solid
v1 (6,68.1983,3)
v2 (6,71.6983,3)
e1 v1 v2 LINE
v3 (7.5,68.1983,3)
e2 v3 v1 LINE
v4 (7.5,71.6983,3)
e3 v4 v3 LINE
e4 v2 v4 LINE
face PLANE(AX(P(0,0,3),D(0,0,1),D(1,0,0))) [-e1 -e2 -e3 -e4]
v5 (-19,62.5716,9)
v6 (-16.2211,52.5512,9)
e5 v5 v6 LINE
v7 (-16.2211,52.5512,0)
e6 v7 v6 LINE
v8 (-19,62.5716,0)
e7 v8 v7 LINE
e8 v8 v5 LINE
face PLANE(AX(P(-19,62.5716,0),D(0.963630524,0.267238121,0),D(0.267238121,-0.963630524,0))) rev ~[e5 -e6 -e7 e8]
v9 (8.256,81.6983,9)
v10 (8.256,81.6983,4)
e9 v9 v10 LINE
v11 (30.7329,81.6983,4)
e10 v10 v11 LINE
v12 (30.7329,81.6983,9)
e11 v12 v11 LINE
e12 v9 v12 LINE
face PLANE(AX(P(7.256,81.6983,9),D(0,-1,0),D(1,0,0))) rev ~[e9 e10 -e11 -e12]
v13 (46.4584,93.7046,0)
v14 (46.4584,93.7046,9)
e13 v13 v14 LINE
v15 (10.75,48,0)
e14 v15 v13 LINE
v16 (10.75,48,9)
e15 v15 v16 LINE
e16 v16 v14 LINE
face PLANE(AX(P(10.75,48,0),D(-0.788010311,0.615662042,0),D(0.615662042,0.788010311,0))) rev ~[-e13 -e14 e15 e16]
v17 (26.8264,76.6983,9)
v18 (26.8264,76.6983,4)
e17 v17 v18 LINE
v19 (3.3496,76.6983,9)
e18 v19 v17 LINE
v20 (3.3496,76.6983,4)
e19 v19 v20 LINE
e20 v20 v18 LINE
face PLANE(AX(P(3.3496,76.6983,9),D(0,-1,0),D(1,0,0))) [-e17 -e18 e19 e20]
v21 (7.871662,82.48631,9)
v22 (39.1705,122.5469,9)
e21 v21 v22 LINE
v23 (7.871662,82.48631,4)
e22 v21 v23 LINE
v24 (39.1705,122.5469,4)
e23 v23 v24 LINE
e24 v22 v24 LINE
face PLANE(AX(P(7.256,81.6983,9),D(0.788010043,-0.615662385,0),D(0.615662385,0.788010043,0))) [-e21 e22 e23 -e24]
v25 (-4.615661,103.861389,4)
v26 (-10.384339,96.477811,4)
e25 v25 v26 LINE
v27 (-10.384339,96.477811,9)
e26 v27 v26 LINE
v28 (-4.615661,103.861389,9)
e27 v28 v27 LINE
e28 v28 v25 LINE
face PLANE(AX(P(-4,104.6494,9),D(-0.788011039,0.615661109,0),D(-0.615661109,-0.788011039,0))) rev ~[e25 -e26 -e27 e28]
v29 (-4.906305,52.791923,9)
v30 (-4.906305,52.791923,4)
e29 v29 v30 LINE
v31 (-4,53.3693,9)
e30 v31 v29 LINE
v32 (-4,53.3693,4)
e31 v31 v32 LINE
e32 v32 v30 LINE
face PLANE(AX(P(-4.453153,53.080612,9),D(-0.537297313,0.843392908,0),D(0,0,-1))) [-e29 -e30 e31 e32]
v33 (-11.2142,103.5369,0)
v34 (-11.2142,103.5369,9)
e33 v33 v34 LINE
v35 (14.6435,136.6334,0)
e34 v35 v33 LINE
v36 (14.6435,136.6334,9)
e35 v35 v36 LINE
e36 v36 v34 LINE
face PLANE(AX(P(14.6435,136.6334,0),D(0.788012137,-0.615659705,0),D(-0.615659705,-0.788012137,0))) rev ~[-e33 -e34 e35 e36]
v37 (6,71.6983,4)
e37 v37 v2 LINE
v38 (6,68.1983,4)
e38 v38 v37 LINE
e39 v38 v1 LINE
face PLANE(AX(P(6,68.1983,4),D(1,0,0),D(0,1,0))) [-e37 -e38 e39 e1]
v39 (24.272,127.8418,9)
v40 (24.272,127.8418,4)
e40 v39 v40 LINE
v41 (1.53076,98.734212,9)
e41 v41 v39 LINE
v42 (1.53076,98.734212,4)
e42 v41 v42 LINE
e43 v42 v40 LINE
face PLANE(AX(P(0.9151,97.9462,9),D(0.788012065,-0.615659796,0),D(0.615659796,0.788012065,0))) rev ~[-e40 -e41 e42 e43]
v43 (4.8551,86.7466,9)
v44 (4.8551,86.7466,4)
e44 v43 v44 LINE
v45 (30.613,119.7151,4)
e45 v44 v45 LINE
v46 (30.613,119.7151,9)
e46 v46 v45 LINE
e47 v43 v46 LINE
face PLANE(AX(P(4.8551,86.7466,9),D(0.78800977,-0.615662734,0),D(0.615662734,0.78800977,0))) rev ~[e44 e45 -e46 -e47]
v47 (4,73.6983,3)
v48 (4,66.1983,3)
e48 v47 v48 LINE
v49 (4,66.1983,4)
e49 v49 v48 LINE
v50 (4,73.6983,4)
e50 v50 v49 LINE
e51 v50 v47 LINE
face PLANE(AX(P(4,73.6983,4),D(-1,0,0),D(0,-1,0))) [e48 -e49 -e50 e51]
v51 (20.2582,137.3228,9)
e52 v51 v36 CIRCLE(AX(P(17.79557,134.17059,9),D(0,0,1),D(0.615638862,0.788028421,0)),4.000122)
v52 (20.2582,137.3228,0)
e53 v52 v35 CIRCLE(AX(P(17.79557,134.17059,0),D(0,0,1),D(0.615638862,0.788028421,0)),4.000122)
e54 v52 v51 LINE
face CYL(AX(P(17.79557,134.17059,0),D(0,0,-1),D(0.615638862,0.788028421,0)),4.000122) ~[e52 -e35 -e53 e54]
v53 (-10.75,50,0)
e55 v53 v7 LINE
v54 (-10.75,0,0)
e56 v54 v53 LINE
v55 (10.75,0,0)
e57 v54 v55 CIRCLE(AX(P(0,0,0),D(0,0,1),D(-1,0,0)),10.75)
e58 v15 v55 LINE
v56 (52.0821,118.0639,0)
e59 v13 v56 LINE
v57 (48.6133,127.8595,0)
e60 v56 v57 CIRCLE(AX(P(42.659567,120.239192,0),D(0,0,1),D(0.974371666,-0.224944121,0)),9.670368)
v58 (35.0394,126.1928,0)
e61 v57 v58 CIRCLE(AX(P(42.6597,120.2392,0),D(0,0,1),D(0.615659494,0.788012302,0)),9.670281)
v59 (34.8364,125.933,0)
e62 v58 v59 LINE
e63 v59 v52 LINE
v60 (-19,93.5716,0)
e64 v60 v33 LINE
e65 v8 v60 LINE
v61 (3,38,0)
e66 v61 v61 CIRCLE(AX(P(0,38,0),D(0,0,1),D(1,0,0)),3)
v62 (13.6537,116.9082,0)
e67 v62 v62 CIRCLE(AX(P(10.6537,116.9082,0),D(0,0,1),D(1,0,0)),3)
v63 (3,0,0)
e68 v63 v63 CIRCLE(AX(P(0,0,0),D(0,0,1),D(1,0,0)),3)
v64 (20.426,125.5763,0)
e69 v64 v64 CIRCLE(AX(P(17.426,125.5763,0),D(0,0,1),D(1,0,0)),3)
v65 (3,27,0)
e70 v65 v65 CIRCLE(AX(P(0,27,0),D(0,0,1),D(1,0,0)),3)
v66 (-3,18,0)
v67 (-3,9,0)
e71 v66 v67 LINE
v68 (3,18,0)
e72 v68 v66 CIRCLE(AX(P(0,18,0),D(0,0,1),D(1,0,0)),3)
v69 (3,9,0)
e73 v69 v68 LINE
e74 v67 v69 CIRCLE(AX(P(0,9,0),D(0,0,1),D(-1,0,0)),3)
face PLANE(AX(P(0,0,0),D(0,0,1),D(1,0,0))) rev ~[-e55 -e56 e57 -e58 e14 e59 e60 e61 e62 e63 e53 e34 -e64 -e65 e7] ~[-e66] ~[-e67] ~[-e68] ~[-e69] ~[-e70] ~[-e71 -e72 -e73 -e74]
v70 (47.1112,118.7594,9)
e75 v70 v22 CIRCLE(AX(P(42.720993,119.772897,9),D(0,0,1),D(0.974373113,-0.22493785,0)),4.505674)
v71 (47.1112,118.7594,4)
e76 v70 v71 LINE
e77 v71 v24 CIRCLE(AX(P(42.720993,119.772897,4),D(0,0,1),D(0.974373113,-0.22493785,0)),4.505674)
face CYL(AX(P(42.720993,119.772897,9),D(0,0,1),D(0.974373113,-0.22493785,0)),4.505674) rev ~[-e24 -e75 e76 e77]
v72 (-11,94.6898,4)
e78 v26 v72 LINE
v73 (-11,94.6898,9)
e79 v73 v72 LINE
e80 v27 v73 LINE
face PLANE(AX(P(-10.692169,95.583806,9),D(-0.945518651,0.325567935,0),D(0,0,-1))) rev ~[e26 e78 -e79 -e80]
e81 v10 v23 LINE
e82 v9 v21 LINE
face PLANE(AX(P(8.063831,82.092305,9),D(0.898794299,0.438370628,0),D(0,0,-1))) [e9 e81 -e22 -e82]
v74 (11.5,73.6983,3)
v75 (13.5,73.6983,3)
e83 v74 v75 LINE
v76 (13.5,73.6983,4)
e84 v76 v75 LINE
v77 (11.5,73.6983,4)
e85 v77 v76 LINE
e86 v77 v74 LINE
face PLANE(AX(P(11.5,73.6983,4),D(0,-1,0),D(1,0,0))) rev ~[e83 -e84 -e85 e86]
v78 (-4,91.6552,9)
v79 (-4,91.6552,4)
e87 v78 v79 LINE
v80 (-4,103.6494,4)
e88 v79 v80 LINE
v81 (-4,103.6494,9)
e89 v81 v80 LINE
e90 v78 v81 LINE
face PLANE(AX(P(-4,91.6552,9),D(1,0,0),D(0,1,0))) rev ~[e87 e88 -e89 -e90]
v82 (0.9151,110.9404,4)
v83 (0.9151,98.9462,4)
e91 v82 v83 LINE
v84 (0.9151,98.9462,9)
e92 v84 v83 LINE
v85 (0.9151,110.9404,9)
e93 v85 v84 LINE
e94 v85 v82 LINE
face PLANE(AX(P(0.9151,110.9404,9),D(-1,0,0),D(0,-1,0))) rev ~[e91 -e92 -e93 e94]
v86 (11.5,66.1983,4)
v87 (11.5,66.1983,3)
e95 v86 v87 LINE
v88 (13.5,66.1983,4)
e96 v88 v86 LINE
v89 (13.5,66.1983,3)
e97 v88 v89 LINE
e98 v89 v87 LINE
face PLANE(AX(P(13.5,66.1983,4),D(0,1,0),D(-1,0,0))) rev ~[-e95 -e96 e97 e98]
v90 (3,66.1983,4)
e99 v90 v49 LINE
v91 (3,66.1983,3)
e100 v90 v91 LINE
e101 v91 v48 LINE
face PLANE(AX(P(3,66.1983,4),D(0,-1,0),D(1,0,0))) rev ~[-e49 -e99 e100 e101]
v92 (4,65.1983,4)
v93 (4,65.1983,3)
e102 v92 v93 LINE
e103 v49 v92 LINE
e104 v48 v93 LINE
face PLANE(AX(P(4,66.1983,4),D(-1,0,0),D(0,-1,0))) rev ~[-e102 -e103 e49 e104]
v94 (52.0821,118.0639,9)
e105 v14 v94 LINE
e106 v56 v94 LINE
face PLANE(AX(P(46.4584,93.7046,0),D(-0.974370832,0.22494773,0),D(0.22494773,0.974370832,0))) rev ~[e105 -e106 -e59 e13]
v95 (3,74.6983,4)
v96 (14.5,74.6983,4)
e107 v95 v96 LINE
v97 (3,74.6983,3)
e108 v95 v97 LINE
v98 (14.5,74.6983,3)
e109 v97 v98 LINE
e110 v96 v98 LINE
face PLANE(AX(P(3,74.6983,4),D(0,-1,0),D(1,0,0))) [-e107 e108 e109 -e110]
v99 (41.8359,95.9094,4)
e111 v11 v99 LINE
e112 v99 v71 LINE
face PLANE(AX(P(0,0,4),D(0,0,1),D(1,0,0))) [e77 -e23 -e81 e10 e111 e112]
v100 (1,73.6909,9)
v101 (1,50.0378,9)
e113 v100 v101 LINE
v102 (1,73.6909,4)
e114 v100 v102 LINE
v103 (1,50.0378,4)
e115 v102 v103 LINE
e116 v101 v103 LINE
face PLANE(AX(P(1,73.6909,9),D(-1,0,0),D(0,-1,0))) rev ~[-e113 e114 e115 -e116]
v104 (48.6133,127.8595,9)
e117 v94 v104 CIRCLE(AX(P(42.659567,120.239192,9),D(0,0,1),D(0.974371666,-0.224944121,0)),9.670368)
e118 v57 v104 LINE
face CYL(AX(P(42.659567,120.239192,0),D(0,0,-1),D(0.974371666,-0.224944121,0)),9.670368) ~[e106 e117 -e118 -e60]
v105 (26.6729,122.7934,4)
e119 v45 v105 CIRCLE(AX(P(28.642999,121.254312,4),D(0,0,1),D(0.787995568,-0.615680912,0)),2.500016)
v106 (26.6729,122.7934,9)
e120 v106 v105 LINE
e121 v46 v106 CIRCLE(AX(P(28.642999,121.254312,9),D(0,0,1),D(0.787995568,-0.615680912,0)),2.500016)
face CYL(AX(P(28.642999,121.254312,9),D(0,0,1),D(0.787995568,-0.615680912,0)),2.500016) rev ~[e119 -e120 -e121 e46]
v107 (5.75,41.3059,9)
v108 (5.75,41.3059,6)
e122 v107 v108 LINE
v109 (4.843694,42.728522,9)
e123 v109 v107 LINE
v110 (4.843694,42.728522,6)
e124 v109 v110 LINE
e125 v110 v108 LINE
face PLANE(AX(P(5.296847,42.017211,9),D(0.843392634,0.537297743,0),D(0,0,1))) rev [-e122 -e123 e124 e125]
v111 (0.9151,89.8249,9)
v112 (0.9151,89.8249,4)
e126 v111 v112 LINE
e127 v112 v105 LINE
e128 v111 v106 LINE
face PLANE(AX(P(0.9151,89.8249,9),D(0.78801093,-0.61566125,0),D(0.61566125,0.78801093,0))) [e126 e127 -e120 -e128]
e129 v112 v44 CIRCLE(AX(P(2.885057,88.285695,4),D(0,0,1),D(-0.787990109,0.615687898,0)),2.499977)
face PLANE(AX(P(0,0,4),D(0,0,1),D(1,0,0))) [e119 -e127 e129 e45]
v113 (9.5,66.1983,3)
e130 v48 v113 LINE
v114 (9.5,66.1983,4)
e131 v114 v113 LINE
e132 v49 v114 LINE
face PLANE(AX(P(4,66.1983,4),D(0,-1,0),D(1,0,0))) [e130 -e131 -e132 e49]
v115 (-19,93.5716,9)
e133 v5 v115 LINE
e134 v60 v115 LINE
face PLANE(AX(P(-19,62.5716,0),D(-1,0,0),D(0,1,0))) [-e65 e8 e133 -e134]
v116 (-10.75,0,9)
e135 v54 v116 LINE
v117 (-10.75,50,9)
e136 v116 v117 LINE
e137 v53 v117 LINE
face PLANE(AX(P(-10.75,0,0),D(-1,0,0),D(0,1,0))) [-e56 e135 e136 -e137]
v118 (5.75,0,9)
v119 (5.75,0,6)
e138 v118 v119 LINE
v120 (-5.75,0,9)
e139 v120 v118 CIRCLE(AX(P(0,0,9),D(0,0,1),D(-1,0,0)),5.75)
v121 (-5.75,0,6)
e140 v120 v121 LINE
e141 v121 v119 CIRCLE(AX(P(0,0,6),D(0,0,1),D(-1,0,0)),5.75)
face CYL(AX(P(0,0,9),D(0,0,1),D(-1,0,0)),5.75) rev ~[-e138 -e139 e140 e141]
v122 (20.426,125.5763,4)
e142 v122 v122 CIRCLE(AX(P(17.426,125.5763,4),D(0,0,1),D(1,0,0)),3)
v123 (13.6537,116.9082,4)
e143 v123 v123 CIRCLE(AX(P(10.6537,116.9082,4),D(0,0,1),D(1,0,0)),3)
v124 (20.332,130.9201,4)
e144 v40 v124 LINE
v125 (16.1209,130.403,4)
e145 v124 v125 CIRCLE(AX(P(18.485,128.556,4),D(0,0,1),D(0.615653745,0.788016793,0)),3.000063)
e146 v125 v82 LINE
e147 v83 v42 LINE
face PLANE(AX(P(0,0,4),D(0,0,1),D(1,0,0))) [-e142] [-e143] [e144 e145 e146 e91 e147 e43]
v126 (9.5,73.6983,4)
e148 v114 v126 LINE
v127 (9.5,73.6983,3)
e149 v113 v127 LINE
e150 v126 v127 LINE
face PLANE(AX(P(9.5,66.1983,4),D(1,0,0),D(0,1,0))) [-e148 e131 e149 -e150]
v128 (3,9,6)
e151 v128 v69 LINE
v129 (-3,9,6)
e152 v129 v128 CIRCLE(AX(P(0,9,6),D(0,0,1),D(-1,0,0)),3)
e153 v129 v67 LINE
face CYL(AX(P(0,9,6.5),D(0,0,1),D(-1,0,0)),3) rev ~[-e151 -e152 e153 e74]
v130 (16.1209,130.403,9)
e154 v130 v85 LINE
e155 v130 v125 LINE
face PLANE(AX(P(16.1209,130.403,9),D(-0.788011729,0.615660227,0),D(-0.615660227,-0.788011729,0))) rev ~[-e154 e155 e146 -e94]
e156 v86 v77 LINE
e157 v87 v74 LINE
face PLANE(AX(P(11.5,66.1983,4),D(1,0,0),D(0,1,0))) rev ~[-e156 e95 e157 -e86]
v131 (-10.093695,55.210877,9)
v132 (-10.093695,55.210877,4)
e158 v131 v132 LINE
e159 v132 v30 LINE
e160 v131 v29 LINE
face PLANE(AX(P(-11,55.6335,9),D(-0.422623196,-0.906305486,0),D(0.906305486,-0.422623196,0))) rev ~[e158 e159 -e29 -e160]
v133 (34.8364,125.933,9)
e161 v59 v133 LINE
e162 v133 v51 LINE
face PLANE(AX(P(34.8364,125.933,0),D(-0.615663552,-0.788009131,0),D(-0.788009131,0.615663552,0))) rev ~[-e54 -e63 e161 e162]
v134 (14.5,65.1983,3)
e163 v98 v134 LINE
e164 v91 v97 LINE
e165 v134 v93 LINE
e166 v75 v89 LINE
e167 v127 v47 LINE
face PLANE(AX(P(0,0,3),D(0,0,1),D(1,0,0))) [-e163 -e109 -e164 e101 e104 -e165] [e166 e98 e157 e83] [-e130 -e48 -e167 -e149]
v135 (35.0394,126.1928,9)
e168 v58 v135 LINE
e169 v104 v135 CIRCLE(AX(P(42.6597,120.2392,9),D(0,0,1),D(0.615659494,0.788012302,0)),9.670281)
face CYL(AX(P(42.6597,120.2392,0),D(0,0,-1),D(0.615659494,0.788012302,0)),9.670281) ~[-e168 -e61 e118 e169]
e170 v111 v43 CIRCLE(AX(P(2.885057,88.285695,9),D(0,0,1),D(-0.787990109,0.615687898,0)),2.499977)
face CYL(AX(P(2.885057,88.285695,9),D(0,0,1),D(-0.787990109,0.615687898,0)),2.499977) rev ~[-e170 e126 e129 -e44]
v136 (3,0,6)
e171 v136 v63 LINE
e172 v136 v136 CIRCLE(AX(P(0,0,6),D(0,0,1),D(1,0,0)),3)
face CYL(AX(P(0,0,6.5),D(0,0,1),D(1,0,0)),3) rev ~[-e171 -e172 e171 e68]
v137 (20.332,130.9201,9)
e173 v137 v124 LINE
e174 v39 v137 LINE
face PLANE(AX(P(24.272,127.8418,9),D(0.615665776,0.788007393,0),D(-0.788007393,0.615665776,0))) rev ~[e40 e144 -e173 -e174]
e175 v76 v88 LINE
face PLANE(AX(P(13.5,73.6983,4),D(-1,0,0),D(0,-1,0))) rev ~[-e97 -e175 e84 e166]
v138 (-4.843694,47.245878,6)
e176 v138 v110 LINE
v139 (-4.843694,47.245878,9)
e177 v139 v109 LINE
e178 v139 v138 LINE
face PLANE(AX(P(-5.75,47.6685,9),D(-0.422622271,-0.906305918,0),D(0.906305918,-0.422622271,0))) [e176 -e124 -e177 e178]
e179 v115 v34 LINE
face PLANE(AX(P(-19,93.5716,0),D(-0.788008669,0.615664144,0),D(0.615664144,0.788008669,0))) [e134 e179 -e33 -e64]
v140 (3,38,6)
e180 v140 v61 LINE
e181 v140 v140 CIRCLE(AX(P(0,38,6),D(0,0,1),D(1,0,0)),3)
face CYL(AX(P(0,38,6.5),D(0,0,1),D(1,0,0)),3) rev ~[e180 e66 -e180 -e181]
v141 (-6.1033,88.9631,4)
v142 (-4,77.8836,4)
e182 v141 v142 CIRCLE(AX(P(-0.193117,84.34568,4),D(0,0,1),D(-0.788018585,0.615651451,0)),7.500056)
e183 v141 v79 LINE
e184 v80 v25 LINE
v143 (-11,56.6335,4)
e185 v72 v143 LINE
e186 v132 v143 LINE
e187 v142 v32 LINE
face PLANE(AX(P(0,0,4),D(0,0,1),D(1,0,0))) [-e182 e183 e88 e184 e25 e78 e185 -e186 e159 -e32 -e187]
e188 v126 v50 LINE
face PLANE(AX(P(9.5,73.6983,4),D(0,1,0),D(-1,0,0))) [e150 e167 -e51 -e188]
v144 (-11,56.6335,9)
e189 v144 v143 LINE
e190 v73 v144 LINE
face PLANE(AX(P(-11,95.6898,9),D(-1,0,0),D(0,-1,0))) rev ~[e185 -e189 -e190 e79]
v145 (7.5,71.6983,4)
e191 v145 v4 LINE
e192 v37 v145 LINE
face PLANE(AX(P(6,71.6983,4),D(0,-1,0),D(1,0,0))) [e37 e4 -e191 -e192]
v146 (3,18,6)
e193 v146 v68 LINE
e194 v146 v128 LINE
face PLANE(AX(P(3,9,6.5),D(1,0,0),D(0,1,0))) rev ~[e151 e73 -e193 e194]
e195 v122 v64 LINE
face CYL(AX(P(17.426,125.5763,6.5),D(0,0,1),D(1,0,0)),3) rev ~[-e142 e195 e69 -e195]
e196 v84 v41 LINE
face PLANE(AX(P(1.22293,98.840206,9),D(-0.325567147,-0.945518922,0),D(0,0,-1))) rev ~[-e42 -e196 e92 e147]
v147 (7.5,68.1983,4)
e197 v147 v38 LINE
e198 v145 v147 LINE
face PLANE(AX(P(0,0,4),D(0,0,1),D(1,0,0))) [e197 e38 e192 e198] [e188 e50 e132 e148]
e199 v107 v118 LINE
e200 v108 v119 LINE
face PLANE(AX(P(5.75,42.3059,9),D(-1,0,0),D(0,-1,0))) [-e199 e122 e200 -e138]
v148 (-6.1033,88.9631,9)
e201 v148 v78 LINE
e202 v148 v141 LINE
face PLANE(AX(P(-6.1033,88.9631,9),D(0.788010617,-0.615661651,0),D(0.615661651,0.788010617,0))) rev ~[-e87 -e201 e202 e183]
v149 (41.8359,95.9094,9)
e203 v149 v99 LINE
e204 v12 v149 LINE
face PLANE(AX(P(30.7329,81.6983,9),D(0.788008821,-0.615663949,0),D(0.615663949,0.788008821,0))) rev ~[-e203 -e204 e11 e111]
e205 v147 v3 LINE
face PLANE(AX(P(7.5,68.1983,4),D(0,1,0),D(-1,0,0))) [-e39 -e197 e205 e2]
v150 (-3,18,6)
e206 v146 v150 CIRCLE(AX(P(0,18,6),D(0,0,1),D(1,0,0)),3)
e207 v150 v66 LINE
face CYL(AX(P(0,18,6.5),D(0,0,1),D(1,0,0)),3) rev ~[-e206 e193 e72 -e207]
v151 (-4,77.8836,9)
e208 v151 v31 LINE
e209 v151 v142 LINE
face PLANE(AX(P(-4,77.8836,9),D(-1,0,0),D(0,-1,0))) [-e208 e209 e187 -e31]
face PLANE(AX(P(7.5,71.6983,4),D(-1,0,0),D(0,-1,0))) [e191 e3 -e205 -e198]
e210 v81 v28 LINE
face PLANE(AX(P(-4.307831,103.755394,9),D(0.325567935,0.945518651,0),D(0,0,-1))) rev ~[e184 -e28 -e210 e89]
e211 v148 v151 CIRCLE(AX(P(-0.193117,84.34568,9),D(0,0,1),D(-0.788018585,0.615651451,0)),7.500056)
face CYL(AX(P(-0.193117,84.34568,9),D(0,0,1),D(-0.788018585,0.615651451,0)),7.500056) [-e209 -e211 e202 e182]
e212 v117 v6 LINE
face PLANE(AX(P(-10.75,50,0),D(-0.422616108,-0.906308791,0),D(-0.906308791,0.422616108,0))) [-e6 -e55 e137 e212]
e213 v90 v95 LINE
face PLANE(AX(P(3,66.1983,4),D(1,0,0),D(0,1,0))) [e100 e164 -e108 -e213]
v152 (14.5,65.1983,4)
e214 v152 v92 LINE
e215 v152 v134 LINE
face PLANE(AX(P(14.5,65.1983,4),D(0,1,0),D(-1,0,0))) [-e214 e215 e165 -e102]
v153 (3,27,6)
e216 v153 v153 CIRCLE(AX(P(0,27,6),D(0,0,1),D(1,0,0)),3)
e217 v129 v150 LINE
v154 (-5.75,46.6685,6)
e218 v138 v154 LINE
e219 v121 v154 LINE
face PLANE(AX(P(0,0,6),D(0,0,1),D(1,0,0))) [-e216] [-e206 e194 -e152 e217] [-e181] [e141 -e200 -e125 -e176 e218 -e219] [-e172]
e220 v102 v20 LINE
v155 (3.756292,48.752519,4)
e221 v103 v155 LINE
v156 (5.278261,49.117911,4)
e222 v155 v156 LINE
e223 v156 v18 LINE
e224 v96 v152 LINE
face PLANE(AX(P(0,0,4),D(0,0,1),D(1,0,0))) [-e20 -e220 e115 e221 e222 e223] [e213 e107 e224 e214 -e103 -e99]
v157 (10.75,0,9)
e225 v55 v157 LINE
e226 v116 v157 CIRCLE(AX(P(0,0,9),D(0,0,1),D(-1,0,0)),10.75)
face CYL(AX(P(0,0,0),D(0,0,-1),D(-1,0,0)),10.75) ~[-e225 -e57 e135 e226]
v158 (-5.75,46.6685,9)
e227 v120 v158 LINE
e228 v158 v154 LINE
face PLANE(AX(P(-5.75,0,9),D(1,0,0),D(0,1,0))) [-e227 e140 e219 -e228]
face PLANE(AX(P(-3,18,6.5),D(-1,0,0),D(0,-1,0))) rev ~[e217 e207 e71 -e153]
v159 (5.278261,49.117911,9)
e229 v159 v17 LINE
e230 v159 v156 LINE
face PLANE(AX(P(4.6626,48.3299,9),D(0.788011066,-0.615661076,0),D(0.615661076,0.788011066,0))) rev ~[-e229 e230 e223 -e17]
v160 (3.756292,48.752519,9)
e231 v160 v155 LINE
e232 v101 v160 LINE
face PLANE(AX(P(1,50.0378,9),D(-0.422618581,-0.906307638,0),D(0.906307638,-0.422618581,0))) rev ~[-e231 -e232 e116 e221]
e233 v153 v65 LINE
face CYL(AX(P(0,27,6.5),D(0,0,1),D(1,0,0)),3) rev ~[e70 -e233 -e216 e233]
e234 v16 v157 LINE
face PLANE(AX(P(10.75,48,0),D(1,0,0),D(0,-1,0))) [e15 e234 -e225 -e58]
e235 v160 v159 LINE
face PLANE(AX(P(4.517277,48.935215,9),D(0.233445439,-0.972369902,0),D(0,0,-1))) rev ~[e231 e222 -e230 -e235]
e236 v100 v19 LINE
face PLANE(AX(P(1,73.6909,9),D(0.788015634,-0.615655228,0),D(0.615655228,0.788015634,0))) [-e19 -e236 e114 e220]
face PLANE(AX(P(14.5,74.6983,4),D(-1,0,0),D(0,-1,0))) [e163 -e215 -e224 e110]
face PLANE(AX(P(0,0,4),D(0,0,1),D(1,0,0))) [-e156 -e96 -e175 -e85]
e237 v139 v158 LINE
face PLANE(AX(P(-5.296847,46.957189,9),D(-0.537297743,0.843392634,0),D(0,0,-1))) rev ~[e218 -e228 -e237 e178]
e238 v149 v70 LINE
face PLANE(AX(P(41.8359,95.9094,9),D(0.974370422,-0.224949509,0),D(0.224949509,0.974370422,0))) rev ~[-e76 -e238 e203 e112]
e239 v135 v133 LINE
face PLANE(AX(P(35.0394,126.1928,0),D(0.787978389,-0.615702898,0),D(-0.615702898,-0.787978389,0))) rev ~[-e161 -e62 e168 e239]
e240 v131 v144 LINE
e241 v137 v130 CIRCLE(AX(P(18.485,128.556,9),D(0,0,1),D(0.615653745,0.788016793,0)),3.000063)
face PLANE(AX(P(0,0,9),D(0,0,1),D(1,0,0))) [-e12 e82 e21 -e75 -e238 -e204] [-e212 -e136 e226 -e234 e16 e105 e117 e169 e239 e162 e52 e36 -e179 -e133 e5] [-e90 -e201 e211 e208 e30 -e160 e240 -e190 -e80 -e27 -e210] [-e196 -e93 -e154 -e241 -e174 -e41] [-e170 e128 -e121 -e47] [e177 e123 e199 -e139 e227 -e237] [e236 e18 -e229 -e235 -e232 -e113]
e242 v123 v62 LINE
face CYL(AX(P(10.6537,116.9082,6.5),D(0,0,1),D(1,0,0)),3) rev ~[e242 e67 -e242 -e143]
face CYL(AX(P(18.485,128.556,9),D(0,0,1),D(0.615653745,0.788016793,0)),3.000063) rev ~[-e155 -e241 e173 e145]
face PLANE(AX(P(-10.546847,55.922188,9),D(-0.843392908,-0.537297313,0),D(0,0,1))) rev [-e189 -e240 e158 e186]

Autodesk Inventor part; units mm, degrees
ref_plane "YZ Plane" through (0, 0, 0) normal (1, 0, 0) x (0, 1, 0)
sketch "Base" plane through (0, 0, 0) normal (0, 0, 1) x (1, 0, 0)
  line L0 (0, -40.5971) -> (0, 168.3327) construction
  arc A0 (-10.75, 0) -> (10.75, 0) centre (0, 0) ccw
  line L1 (10.75, 48) -> (10.75, 0)
  line L2 (-10.75, 0) -> (-10.75, 50)
  line L3 (-19, 62.5716) -> (-16.2211, 52.5512)
  line L4 (-10.75, 50) -> (-16.2211, 52.5512)
  line L5 (-19, 62.5716) -> (-19, 93.5716)
  line L6 (-19, 93.5716) -> (-11.2142, 103.5369)
  line L7 (10.75, 48) -> (46.4584, 93.7046)
  line L8 (46.4584, 93.7046) -> (52.0821, 118.0639)
  arc A1 (52.0821, 118.0639) -> (48.6133, 127.8595) centre (42.6597, 120.2392) ccw
  arc A2 (48.6133, 127.8595) -> (35.0394, 126.1928) centre (42.6597, 120.2392) ccw
  line L9 (34.8364, 125.933) -> (20.2582, 137.3228)
  line L10 (35.0394, 126.1928) -> (34.8364, 125.933)
  arc A3 (20.2582, 137.3228) -> (14.6435, 136.6334) centre (17.7956, 134.1707) ccw
  line L11 (14.6435, 136.6334) -> (-11.2142, 103.5369)
  line L12 (42.6597, 120.2392) -> (48.6133, 127.8595) construction
  dimension "d0" = 142
  dimension "d1" = 155
  dimension "d2" = 21.5
  dimension "d3" = 115
  dimension "d4" = 130.5
  dimension "d7" = 51.5
  dimension "d8" = 18.5
  dimension "d9" = 4
  dimension "d10" = 58
  dimension "d11" = 25
  dimension "d14" = 42
  dimension "d15" = 50
  dimension "d18" = 10
  dimension "d57" = 48
  dimension "d100" = 19
  dimension "d101" = 31
extrude "BaseFeature" add sketch "Base" along normal blind 9
ref_plane "SunkenDetailsPlane" through (0, 0, 9) normal (0, 0, 1) x (1, 0, 0)
sketch "SunkenDetails" plane through (0, 0, 9) normal (0, 0, 1) x (1, 0, 0)
  line L0 (0.9151, 89.8249) -> (26.6729, 122.7934)
  line L1 (4.8551, 86.7466) -> (30.613, 119.7151)
  arc A0 (30.613, 119.7151) -> (26.6729, 122.7934) centre (28.6429, 121.2543) ccw
  line L2 (0.9151, 97.9462) -> (24.272, 127.8418)
  line L3 (24.272, 127.8418) -> (20.332, 130.9201)
  line L4 (16.1209, 130.403) -> (0.9151, 110.9404)
  arc A1 (20.332, 130.9201) -> (16.1209, 130.403) centre (18.485, 128.556) ccw
  line L5 (-4, 91.6552) -> (-4, 104.6494)
  line L6 (-4, 104.6494) -> (-11, 95.6898)
  line L7 (-11, 95.6898) -> (-11, 55.6335)
  line L8 (-11, 55.6335) -> (-4, 52.3693)
  line L9 (-4, 77.8836) -> (-4, 52.3693)
  arc A2 (-6.1033, 88.9631) -> (-4, 77.8836) centre (-0.1932, 84.3457) ccw
  line L10 (-6.1033, 88.9631) -> (-4, 91.6552)
  line L11 (5.75, 42.3059) -> (5.75, 0)
  line L12 (-5.75, 47.6685) -> (5.75, 42.3059)
  line L13 (-5.75, 0) -> (-5.75, 47.6685)
  arc A3 (-5.75, 0) -> (5.75, 0) centre (0, 0) ccw
  line L14 (4.6626, 48.3299) -> (26.8264, 76.6983)
  line L15 (3.3496, 76.6983) -> (26.8264, 76.6983)
  line L16 (1, 73.6909) -> (3.3496, 76.6983)
  arc A4 (0.9151, 89.8249) -> (4.8551, 86.7466) centre (2.8851, 88.2857) ccw
  line L17 (7.256, 81.6983) -> (30.7329, 81.6983)
  line L18 (7.256, 81.6983) -> (39.1705, 122.5469)
  line L19 (30.7329, 81.6983) -> (41.8359, 95.9094)
  line L20 (41.8359, 95.9094) -> (47.1112, 118.7594)
  arc A5 (47.1112, 118.7594) -> (39.1705, 122.5469) centre (42.721, 119.7729) ccw
  line L21 (10.75, 0) -> (10.75, 48) construction
  arc A6 (-10.75, 0) -> (10.75, 0) centre (0, 0) ccw construction
  line L22 (10.75, 0) -> (10.75, 48) construction
  line L23 (10.75, 48) -> (46.4584, 93.7046) construction
  line L24 (46.4584, 93.7046) -> (52.0821, 118.0639) construction
  arc A7 (52.0821, 118.0639) -> (35.0394, 126.1928) centre (42.6597, 120.2392) ccw construction
  line L25 (35.0394, 126.1928) -> (34.8364, 125.933) construction
  line L26 (34.8364, 125.933) -> (20.2582, 137.3228) construction
  arc A8 (20.2582, 137.3228) -> (14.6435, 136.6334) centre (17.7956, 134.1707) ccw construction
  line L27 (14.6435, 136.6334) -> (-19, 93.5716) construction
  line L28 (-19, 93.5716) -> (-19, 62.5716) construction
  line L29 (-19, 62.5716) -> (-16.2211, 52.5512) construction
  line L30 (-16.2211, 52.5512) -> (-10.75, 50) construction
  line L31 (-10.75, 50) -> (-10.75, 0) construction
  line L32 (-10.75, 50) -> (-10.75, 0) construction
  line L33 (10.75, 48) -> (46.4584, 93.7046) construction
  line L34 (-19, 93.5716) -> (-19, 62.5716) construction
  line L35 (14.6435, 136.6334) -> (-19, 93.5716) construction
  line L36 (46.4584, 93.7046) -> (52.0821, 118.0639) construction
  line L37 (34.8364, 125.933) -> (20.2582, 137.3228) construction
  arc A9 (-10.75, 0) -> (10.75, 0) centre (0, 0) ccw construction
  line L38 (24.272, 127.8418) -> (30.1821, 123.2243) construction
  line L39 (-10.75, 50) -> (-5.75, 47.6685) construction
  line L40 (-16.2211, 52.5512) -> (-10.75, 50) construction
  line L41 (2.8851, 88.2857) -> (-0.1932, 84.3457) construction
  line L42 (0.9151, 110.9404) -> (0.9151, 97.9462)
  line L43 (0.9151, 97.9462) -> (-4, 91.6552) construction
  line L44 (0.9151, 97.9462) -> (0.9151, 89.8249) construction
  line L45 (39.1705, 122.5469) -> (34.8364, 125.933) construction
  line L46 (1.346, 86.3157) -> (7.256, 81.6983) construction
  line L47 (1, 73.6909) -> (1, 50.0378)
  line L48 (1, 50.0378) -> (4.6626, 48.3299)
  point P0 (-11.2142, 103.5369)
  dimension "d23" = 5
  dimension "d30" = 8
  dimension "d32" = 5
  dimension "d34" = 5
  dimension "d35" = 5
  dimension "d36" = 5
  dimension "d49" = 5
  dimension "d54" = 5
  dimension "d59" = 5
  dimension "d60" = 5
  dimension "d61" = 5
  dimension "d66" = 5
  dimension "d76" = 3
  dimension "d77" = 7
  dimension "d102" = 5
  dimension "d103" = 5
  dimension "d104" = 36
extrude "SunkenDetailsFeature" cut sketch "SunkenDetails" against normal blind 5 contours L0 A0 L1 A4 | L42 L4 A1 L3 L2 | L10 A2 L9 L8 L7 L6 L5 | L48 L47 L16 L15 L14 | L18 A5 L20 L19 L17
ref_plane "HolesPlane" through (-11, 95.6898, 6.5) normal (0, 0, 1) x (1, 0, 0)
sketch "Holes" plane through (-11, 95.6898, 6.5) normal (0, 0, 1) x (1, 0, 0)
  circle A0 centre (21.6537, 21.2184) radius 3
  circle A1 centre (28.426, 29.8865) radius 3
  circle A2 centre (11, -57.6898) radius 3
  circle A3 centre (11, -68.6898) radius 3
  line L0 (8, -77.6898) -> (8, -86.6898)
  arc A4 (8, -86.6898) -> (14, -86.6898) centre (11, -86.6898) ccw
  line L1 (14, -86.6898) -> (14, -77.6898)
  arc A5 (14, -77.6898) -> (8, -77.6898) centre (11, -77.6898) ccw
  circle A6 centre (11, -95.6898) radius 3
  line L2 (11.9151, 15.2506) -> (27.1209, 34.7132) construction
  line L3 (35.272, 32.152) -> (11.9151, 2.2564) construction
  line L4 (21.6537, 21.2184) -> (28.426, 29.8865) construction
  line L5 (31.332, 35.2303) -> (35.272, 32.152) projected
  arc A7 (0.25, -95.6898) -> (21.75, -95.6898) centre (11, -95.6898) ccw construction
  line L6 (0.25, -45.6898) -> (0.25, -95.6898) construction
  line L7 (21.75, -95.6898) -> (21.75, -47.6898) construction
  line L8 (11, -57.6898) -> (11, -95.6898) construction
  dimension "d83" = 6
  dimension "d84" = 9
  dimension "d85" = 9
  dimension "d86" = 9
  dimension "d87" = 11
  dimension "d88" = 8
  dimension "d89" = 11
  dimension "d90" = 4
  dimension "d91" = 6
extrude "HolesFeature" cut sketch "Holes" against normal through all
extrude "SunkenDetailFeature" cut sketch "SunkenDetails" against normal blind 3 contours L11 A3 L13 L12
chamfer "DetailChamfersFeature" distance 1 angle 45 9 edges at (0.9151, 97.9462, 6.5) (-4, 104.6494, 6.5) (-11, 95.6898, 6.5) (-5.75, 47.6685, 7.5) (5.75, 42.3059, 7.5) (-4, 52.3693, 6.5) (7.256, 81.6983, 6.5) (4.6626, 48.3299, 6.5) (-11, 55.6335, 6.5)
sketch "Logo" plane through (0, 0, 4) normal (0, 0, 1) x (1, 0, 0)
  line L0 (6, 71.6983) -> (7.5, 71.6983)
  line L1 (7.5, 71.6983) -> (7.5, 68.1983)
  line L2 (9.5, 73.6983) -> (4, 73.6983)
  line L3 (9.5, 66.1983) -> (9.5, 73.6983)
  line L4 (11.5, 66.1983) -> (11.5, 73.6983)
  line L5 (14.5, 65.1983) -> (4, 65.1983)
  line L6 (14.5, 74.6983) -> (14.5, 65.1983)
  line L7 (13.5, 66.1983) -> (11.5, 66.1983)
  line L8 (13.5, 73.6983) -> (13.5, 66.1983)
  line L9 (3, 74.6983) -> (14.5, 74.6983)
  line L10 (11.5, 73.6983) -> (13.5, 73.6983)
  line L11 (6, 68.1983) -> (6, 71.6983)
  line L12 (4, 73.6983) -> (4, 66.1983)
  line L13 (3, 66.1983) -> (3, 74.6983)
  line L14 (4, 66.1983) -> (9.5, 66.1983)
  line L15 (4, 66.1983) -> (4, 65.1983)
  line L16 (3, 66.1983) -> (4, 66.1983)
  line L17 (7.5, 68.1983) -> (6, 68.1983)
  line L18 (3.3496, 76.6983) -> (26.8264, 76.6983) construction
  line L19 (1, 50.0378) -> (1, 73.6909) construction
  dimension "d140" = 1
  dimension "d141" = 1
  dimension "d142" = 1
  dimension "d143" = 1
  dimension "d144" = 2
  dimension "d145" = 1.5
  dimension "d146" = 2
  dimension "d147" = 2
  dimension "d148" = 2
  dimension "d149" = 9.5
  dimension "d150" = 2
  dimension "d151" = 2
  dimension "d152" = 2
  dimension "d153" = 2
extrude "LogoFeature" cut sketch "Logo" against normal blind 1
properties part number "ShinConnector"
